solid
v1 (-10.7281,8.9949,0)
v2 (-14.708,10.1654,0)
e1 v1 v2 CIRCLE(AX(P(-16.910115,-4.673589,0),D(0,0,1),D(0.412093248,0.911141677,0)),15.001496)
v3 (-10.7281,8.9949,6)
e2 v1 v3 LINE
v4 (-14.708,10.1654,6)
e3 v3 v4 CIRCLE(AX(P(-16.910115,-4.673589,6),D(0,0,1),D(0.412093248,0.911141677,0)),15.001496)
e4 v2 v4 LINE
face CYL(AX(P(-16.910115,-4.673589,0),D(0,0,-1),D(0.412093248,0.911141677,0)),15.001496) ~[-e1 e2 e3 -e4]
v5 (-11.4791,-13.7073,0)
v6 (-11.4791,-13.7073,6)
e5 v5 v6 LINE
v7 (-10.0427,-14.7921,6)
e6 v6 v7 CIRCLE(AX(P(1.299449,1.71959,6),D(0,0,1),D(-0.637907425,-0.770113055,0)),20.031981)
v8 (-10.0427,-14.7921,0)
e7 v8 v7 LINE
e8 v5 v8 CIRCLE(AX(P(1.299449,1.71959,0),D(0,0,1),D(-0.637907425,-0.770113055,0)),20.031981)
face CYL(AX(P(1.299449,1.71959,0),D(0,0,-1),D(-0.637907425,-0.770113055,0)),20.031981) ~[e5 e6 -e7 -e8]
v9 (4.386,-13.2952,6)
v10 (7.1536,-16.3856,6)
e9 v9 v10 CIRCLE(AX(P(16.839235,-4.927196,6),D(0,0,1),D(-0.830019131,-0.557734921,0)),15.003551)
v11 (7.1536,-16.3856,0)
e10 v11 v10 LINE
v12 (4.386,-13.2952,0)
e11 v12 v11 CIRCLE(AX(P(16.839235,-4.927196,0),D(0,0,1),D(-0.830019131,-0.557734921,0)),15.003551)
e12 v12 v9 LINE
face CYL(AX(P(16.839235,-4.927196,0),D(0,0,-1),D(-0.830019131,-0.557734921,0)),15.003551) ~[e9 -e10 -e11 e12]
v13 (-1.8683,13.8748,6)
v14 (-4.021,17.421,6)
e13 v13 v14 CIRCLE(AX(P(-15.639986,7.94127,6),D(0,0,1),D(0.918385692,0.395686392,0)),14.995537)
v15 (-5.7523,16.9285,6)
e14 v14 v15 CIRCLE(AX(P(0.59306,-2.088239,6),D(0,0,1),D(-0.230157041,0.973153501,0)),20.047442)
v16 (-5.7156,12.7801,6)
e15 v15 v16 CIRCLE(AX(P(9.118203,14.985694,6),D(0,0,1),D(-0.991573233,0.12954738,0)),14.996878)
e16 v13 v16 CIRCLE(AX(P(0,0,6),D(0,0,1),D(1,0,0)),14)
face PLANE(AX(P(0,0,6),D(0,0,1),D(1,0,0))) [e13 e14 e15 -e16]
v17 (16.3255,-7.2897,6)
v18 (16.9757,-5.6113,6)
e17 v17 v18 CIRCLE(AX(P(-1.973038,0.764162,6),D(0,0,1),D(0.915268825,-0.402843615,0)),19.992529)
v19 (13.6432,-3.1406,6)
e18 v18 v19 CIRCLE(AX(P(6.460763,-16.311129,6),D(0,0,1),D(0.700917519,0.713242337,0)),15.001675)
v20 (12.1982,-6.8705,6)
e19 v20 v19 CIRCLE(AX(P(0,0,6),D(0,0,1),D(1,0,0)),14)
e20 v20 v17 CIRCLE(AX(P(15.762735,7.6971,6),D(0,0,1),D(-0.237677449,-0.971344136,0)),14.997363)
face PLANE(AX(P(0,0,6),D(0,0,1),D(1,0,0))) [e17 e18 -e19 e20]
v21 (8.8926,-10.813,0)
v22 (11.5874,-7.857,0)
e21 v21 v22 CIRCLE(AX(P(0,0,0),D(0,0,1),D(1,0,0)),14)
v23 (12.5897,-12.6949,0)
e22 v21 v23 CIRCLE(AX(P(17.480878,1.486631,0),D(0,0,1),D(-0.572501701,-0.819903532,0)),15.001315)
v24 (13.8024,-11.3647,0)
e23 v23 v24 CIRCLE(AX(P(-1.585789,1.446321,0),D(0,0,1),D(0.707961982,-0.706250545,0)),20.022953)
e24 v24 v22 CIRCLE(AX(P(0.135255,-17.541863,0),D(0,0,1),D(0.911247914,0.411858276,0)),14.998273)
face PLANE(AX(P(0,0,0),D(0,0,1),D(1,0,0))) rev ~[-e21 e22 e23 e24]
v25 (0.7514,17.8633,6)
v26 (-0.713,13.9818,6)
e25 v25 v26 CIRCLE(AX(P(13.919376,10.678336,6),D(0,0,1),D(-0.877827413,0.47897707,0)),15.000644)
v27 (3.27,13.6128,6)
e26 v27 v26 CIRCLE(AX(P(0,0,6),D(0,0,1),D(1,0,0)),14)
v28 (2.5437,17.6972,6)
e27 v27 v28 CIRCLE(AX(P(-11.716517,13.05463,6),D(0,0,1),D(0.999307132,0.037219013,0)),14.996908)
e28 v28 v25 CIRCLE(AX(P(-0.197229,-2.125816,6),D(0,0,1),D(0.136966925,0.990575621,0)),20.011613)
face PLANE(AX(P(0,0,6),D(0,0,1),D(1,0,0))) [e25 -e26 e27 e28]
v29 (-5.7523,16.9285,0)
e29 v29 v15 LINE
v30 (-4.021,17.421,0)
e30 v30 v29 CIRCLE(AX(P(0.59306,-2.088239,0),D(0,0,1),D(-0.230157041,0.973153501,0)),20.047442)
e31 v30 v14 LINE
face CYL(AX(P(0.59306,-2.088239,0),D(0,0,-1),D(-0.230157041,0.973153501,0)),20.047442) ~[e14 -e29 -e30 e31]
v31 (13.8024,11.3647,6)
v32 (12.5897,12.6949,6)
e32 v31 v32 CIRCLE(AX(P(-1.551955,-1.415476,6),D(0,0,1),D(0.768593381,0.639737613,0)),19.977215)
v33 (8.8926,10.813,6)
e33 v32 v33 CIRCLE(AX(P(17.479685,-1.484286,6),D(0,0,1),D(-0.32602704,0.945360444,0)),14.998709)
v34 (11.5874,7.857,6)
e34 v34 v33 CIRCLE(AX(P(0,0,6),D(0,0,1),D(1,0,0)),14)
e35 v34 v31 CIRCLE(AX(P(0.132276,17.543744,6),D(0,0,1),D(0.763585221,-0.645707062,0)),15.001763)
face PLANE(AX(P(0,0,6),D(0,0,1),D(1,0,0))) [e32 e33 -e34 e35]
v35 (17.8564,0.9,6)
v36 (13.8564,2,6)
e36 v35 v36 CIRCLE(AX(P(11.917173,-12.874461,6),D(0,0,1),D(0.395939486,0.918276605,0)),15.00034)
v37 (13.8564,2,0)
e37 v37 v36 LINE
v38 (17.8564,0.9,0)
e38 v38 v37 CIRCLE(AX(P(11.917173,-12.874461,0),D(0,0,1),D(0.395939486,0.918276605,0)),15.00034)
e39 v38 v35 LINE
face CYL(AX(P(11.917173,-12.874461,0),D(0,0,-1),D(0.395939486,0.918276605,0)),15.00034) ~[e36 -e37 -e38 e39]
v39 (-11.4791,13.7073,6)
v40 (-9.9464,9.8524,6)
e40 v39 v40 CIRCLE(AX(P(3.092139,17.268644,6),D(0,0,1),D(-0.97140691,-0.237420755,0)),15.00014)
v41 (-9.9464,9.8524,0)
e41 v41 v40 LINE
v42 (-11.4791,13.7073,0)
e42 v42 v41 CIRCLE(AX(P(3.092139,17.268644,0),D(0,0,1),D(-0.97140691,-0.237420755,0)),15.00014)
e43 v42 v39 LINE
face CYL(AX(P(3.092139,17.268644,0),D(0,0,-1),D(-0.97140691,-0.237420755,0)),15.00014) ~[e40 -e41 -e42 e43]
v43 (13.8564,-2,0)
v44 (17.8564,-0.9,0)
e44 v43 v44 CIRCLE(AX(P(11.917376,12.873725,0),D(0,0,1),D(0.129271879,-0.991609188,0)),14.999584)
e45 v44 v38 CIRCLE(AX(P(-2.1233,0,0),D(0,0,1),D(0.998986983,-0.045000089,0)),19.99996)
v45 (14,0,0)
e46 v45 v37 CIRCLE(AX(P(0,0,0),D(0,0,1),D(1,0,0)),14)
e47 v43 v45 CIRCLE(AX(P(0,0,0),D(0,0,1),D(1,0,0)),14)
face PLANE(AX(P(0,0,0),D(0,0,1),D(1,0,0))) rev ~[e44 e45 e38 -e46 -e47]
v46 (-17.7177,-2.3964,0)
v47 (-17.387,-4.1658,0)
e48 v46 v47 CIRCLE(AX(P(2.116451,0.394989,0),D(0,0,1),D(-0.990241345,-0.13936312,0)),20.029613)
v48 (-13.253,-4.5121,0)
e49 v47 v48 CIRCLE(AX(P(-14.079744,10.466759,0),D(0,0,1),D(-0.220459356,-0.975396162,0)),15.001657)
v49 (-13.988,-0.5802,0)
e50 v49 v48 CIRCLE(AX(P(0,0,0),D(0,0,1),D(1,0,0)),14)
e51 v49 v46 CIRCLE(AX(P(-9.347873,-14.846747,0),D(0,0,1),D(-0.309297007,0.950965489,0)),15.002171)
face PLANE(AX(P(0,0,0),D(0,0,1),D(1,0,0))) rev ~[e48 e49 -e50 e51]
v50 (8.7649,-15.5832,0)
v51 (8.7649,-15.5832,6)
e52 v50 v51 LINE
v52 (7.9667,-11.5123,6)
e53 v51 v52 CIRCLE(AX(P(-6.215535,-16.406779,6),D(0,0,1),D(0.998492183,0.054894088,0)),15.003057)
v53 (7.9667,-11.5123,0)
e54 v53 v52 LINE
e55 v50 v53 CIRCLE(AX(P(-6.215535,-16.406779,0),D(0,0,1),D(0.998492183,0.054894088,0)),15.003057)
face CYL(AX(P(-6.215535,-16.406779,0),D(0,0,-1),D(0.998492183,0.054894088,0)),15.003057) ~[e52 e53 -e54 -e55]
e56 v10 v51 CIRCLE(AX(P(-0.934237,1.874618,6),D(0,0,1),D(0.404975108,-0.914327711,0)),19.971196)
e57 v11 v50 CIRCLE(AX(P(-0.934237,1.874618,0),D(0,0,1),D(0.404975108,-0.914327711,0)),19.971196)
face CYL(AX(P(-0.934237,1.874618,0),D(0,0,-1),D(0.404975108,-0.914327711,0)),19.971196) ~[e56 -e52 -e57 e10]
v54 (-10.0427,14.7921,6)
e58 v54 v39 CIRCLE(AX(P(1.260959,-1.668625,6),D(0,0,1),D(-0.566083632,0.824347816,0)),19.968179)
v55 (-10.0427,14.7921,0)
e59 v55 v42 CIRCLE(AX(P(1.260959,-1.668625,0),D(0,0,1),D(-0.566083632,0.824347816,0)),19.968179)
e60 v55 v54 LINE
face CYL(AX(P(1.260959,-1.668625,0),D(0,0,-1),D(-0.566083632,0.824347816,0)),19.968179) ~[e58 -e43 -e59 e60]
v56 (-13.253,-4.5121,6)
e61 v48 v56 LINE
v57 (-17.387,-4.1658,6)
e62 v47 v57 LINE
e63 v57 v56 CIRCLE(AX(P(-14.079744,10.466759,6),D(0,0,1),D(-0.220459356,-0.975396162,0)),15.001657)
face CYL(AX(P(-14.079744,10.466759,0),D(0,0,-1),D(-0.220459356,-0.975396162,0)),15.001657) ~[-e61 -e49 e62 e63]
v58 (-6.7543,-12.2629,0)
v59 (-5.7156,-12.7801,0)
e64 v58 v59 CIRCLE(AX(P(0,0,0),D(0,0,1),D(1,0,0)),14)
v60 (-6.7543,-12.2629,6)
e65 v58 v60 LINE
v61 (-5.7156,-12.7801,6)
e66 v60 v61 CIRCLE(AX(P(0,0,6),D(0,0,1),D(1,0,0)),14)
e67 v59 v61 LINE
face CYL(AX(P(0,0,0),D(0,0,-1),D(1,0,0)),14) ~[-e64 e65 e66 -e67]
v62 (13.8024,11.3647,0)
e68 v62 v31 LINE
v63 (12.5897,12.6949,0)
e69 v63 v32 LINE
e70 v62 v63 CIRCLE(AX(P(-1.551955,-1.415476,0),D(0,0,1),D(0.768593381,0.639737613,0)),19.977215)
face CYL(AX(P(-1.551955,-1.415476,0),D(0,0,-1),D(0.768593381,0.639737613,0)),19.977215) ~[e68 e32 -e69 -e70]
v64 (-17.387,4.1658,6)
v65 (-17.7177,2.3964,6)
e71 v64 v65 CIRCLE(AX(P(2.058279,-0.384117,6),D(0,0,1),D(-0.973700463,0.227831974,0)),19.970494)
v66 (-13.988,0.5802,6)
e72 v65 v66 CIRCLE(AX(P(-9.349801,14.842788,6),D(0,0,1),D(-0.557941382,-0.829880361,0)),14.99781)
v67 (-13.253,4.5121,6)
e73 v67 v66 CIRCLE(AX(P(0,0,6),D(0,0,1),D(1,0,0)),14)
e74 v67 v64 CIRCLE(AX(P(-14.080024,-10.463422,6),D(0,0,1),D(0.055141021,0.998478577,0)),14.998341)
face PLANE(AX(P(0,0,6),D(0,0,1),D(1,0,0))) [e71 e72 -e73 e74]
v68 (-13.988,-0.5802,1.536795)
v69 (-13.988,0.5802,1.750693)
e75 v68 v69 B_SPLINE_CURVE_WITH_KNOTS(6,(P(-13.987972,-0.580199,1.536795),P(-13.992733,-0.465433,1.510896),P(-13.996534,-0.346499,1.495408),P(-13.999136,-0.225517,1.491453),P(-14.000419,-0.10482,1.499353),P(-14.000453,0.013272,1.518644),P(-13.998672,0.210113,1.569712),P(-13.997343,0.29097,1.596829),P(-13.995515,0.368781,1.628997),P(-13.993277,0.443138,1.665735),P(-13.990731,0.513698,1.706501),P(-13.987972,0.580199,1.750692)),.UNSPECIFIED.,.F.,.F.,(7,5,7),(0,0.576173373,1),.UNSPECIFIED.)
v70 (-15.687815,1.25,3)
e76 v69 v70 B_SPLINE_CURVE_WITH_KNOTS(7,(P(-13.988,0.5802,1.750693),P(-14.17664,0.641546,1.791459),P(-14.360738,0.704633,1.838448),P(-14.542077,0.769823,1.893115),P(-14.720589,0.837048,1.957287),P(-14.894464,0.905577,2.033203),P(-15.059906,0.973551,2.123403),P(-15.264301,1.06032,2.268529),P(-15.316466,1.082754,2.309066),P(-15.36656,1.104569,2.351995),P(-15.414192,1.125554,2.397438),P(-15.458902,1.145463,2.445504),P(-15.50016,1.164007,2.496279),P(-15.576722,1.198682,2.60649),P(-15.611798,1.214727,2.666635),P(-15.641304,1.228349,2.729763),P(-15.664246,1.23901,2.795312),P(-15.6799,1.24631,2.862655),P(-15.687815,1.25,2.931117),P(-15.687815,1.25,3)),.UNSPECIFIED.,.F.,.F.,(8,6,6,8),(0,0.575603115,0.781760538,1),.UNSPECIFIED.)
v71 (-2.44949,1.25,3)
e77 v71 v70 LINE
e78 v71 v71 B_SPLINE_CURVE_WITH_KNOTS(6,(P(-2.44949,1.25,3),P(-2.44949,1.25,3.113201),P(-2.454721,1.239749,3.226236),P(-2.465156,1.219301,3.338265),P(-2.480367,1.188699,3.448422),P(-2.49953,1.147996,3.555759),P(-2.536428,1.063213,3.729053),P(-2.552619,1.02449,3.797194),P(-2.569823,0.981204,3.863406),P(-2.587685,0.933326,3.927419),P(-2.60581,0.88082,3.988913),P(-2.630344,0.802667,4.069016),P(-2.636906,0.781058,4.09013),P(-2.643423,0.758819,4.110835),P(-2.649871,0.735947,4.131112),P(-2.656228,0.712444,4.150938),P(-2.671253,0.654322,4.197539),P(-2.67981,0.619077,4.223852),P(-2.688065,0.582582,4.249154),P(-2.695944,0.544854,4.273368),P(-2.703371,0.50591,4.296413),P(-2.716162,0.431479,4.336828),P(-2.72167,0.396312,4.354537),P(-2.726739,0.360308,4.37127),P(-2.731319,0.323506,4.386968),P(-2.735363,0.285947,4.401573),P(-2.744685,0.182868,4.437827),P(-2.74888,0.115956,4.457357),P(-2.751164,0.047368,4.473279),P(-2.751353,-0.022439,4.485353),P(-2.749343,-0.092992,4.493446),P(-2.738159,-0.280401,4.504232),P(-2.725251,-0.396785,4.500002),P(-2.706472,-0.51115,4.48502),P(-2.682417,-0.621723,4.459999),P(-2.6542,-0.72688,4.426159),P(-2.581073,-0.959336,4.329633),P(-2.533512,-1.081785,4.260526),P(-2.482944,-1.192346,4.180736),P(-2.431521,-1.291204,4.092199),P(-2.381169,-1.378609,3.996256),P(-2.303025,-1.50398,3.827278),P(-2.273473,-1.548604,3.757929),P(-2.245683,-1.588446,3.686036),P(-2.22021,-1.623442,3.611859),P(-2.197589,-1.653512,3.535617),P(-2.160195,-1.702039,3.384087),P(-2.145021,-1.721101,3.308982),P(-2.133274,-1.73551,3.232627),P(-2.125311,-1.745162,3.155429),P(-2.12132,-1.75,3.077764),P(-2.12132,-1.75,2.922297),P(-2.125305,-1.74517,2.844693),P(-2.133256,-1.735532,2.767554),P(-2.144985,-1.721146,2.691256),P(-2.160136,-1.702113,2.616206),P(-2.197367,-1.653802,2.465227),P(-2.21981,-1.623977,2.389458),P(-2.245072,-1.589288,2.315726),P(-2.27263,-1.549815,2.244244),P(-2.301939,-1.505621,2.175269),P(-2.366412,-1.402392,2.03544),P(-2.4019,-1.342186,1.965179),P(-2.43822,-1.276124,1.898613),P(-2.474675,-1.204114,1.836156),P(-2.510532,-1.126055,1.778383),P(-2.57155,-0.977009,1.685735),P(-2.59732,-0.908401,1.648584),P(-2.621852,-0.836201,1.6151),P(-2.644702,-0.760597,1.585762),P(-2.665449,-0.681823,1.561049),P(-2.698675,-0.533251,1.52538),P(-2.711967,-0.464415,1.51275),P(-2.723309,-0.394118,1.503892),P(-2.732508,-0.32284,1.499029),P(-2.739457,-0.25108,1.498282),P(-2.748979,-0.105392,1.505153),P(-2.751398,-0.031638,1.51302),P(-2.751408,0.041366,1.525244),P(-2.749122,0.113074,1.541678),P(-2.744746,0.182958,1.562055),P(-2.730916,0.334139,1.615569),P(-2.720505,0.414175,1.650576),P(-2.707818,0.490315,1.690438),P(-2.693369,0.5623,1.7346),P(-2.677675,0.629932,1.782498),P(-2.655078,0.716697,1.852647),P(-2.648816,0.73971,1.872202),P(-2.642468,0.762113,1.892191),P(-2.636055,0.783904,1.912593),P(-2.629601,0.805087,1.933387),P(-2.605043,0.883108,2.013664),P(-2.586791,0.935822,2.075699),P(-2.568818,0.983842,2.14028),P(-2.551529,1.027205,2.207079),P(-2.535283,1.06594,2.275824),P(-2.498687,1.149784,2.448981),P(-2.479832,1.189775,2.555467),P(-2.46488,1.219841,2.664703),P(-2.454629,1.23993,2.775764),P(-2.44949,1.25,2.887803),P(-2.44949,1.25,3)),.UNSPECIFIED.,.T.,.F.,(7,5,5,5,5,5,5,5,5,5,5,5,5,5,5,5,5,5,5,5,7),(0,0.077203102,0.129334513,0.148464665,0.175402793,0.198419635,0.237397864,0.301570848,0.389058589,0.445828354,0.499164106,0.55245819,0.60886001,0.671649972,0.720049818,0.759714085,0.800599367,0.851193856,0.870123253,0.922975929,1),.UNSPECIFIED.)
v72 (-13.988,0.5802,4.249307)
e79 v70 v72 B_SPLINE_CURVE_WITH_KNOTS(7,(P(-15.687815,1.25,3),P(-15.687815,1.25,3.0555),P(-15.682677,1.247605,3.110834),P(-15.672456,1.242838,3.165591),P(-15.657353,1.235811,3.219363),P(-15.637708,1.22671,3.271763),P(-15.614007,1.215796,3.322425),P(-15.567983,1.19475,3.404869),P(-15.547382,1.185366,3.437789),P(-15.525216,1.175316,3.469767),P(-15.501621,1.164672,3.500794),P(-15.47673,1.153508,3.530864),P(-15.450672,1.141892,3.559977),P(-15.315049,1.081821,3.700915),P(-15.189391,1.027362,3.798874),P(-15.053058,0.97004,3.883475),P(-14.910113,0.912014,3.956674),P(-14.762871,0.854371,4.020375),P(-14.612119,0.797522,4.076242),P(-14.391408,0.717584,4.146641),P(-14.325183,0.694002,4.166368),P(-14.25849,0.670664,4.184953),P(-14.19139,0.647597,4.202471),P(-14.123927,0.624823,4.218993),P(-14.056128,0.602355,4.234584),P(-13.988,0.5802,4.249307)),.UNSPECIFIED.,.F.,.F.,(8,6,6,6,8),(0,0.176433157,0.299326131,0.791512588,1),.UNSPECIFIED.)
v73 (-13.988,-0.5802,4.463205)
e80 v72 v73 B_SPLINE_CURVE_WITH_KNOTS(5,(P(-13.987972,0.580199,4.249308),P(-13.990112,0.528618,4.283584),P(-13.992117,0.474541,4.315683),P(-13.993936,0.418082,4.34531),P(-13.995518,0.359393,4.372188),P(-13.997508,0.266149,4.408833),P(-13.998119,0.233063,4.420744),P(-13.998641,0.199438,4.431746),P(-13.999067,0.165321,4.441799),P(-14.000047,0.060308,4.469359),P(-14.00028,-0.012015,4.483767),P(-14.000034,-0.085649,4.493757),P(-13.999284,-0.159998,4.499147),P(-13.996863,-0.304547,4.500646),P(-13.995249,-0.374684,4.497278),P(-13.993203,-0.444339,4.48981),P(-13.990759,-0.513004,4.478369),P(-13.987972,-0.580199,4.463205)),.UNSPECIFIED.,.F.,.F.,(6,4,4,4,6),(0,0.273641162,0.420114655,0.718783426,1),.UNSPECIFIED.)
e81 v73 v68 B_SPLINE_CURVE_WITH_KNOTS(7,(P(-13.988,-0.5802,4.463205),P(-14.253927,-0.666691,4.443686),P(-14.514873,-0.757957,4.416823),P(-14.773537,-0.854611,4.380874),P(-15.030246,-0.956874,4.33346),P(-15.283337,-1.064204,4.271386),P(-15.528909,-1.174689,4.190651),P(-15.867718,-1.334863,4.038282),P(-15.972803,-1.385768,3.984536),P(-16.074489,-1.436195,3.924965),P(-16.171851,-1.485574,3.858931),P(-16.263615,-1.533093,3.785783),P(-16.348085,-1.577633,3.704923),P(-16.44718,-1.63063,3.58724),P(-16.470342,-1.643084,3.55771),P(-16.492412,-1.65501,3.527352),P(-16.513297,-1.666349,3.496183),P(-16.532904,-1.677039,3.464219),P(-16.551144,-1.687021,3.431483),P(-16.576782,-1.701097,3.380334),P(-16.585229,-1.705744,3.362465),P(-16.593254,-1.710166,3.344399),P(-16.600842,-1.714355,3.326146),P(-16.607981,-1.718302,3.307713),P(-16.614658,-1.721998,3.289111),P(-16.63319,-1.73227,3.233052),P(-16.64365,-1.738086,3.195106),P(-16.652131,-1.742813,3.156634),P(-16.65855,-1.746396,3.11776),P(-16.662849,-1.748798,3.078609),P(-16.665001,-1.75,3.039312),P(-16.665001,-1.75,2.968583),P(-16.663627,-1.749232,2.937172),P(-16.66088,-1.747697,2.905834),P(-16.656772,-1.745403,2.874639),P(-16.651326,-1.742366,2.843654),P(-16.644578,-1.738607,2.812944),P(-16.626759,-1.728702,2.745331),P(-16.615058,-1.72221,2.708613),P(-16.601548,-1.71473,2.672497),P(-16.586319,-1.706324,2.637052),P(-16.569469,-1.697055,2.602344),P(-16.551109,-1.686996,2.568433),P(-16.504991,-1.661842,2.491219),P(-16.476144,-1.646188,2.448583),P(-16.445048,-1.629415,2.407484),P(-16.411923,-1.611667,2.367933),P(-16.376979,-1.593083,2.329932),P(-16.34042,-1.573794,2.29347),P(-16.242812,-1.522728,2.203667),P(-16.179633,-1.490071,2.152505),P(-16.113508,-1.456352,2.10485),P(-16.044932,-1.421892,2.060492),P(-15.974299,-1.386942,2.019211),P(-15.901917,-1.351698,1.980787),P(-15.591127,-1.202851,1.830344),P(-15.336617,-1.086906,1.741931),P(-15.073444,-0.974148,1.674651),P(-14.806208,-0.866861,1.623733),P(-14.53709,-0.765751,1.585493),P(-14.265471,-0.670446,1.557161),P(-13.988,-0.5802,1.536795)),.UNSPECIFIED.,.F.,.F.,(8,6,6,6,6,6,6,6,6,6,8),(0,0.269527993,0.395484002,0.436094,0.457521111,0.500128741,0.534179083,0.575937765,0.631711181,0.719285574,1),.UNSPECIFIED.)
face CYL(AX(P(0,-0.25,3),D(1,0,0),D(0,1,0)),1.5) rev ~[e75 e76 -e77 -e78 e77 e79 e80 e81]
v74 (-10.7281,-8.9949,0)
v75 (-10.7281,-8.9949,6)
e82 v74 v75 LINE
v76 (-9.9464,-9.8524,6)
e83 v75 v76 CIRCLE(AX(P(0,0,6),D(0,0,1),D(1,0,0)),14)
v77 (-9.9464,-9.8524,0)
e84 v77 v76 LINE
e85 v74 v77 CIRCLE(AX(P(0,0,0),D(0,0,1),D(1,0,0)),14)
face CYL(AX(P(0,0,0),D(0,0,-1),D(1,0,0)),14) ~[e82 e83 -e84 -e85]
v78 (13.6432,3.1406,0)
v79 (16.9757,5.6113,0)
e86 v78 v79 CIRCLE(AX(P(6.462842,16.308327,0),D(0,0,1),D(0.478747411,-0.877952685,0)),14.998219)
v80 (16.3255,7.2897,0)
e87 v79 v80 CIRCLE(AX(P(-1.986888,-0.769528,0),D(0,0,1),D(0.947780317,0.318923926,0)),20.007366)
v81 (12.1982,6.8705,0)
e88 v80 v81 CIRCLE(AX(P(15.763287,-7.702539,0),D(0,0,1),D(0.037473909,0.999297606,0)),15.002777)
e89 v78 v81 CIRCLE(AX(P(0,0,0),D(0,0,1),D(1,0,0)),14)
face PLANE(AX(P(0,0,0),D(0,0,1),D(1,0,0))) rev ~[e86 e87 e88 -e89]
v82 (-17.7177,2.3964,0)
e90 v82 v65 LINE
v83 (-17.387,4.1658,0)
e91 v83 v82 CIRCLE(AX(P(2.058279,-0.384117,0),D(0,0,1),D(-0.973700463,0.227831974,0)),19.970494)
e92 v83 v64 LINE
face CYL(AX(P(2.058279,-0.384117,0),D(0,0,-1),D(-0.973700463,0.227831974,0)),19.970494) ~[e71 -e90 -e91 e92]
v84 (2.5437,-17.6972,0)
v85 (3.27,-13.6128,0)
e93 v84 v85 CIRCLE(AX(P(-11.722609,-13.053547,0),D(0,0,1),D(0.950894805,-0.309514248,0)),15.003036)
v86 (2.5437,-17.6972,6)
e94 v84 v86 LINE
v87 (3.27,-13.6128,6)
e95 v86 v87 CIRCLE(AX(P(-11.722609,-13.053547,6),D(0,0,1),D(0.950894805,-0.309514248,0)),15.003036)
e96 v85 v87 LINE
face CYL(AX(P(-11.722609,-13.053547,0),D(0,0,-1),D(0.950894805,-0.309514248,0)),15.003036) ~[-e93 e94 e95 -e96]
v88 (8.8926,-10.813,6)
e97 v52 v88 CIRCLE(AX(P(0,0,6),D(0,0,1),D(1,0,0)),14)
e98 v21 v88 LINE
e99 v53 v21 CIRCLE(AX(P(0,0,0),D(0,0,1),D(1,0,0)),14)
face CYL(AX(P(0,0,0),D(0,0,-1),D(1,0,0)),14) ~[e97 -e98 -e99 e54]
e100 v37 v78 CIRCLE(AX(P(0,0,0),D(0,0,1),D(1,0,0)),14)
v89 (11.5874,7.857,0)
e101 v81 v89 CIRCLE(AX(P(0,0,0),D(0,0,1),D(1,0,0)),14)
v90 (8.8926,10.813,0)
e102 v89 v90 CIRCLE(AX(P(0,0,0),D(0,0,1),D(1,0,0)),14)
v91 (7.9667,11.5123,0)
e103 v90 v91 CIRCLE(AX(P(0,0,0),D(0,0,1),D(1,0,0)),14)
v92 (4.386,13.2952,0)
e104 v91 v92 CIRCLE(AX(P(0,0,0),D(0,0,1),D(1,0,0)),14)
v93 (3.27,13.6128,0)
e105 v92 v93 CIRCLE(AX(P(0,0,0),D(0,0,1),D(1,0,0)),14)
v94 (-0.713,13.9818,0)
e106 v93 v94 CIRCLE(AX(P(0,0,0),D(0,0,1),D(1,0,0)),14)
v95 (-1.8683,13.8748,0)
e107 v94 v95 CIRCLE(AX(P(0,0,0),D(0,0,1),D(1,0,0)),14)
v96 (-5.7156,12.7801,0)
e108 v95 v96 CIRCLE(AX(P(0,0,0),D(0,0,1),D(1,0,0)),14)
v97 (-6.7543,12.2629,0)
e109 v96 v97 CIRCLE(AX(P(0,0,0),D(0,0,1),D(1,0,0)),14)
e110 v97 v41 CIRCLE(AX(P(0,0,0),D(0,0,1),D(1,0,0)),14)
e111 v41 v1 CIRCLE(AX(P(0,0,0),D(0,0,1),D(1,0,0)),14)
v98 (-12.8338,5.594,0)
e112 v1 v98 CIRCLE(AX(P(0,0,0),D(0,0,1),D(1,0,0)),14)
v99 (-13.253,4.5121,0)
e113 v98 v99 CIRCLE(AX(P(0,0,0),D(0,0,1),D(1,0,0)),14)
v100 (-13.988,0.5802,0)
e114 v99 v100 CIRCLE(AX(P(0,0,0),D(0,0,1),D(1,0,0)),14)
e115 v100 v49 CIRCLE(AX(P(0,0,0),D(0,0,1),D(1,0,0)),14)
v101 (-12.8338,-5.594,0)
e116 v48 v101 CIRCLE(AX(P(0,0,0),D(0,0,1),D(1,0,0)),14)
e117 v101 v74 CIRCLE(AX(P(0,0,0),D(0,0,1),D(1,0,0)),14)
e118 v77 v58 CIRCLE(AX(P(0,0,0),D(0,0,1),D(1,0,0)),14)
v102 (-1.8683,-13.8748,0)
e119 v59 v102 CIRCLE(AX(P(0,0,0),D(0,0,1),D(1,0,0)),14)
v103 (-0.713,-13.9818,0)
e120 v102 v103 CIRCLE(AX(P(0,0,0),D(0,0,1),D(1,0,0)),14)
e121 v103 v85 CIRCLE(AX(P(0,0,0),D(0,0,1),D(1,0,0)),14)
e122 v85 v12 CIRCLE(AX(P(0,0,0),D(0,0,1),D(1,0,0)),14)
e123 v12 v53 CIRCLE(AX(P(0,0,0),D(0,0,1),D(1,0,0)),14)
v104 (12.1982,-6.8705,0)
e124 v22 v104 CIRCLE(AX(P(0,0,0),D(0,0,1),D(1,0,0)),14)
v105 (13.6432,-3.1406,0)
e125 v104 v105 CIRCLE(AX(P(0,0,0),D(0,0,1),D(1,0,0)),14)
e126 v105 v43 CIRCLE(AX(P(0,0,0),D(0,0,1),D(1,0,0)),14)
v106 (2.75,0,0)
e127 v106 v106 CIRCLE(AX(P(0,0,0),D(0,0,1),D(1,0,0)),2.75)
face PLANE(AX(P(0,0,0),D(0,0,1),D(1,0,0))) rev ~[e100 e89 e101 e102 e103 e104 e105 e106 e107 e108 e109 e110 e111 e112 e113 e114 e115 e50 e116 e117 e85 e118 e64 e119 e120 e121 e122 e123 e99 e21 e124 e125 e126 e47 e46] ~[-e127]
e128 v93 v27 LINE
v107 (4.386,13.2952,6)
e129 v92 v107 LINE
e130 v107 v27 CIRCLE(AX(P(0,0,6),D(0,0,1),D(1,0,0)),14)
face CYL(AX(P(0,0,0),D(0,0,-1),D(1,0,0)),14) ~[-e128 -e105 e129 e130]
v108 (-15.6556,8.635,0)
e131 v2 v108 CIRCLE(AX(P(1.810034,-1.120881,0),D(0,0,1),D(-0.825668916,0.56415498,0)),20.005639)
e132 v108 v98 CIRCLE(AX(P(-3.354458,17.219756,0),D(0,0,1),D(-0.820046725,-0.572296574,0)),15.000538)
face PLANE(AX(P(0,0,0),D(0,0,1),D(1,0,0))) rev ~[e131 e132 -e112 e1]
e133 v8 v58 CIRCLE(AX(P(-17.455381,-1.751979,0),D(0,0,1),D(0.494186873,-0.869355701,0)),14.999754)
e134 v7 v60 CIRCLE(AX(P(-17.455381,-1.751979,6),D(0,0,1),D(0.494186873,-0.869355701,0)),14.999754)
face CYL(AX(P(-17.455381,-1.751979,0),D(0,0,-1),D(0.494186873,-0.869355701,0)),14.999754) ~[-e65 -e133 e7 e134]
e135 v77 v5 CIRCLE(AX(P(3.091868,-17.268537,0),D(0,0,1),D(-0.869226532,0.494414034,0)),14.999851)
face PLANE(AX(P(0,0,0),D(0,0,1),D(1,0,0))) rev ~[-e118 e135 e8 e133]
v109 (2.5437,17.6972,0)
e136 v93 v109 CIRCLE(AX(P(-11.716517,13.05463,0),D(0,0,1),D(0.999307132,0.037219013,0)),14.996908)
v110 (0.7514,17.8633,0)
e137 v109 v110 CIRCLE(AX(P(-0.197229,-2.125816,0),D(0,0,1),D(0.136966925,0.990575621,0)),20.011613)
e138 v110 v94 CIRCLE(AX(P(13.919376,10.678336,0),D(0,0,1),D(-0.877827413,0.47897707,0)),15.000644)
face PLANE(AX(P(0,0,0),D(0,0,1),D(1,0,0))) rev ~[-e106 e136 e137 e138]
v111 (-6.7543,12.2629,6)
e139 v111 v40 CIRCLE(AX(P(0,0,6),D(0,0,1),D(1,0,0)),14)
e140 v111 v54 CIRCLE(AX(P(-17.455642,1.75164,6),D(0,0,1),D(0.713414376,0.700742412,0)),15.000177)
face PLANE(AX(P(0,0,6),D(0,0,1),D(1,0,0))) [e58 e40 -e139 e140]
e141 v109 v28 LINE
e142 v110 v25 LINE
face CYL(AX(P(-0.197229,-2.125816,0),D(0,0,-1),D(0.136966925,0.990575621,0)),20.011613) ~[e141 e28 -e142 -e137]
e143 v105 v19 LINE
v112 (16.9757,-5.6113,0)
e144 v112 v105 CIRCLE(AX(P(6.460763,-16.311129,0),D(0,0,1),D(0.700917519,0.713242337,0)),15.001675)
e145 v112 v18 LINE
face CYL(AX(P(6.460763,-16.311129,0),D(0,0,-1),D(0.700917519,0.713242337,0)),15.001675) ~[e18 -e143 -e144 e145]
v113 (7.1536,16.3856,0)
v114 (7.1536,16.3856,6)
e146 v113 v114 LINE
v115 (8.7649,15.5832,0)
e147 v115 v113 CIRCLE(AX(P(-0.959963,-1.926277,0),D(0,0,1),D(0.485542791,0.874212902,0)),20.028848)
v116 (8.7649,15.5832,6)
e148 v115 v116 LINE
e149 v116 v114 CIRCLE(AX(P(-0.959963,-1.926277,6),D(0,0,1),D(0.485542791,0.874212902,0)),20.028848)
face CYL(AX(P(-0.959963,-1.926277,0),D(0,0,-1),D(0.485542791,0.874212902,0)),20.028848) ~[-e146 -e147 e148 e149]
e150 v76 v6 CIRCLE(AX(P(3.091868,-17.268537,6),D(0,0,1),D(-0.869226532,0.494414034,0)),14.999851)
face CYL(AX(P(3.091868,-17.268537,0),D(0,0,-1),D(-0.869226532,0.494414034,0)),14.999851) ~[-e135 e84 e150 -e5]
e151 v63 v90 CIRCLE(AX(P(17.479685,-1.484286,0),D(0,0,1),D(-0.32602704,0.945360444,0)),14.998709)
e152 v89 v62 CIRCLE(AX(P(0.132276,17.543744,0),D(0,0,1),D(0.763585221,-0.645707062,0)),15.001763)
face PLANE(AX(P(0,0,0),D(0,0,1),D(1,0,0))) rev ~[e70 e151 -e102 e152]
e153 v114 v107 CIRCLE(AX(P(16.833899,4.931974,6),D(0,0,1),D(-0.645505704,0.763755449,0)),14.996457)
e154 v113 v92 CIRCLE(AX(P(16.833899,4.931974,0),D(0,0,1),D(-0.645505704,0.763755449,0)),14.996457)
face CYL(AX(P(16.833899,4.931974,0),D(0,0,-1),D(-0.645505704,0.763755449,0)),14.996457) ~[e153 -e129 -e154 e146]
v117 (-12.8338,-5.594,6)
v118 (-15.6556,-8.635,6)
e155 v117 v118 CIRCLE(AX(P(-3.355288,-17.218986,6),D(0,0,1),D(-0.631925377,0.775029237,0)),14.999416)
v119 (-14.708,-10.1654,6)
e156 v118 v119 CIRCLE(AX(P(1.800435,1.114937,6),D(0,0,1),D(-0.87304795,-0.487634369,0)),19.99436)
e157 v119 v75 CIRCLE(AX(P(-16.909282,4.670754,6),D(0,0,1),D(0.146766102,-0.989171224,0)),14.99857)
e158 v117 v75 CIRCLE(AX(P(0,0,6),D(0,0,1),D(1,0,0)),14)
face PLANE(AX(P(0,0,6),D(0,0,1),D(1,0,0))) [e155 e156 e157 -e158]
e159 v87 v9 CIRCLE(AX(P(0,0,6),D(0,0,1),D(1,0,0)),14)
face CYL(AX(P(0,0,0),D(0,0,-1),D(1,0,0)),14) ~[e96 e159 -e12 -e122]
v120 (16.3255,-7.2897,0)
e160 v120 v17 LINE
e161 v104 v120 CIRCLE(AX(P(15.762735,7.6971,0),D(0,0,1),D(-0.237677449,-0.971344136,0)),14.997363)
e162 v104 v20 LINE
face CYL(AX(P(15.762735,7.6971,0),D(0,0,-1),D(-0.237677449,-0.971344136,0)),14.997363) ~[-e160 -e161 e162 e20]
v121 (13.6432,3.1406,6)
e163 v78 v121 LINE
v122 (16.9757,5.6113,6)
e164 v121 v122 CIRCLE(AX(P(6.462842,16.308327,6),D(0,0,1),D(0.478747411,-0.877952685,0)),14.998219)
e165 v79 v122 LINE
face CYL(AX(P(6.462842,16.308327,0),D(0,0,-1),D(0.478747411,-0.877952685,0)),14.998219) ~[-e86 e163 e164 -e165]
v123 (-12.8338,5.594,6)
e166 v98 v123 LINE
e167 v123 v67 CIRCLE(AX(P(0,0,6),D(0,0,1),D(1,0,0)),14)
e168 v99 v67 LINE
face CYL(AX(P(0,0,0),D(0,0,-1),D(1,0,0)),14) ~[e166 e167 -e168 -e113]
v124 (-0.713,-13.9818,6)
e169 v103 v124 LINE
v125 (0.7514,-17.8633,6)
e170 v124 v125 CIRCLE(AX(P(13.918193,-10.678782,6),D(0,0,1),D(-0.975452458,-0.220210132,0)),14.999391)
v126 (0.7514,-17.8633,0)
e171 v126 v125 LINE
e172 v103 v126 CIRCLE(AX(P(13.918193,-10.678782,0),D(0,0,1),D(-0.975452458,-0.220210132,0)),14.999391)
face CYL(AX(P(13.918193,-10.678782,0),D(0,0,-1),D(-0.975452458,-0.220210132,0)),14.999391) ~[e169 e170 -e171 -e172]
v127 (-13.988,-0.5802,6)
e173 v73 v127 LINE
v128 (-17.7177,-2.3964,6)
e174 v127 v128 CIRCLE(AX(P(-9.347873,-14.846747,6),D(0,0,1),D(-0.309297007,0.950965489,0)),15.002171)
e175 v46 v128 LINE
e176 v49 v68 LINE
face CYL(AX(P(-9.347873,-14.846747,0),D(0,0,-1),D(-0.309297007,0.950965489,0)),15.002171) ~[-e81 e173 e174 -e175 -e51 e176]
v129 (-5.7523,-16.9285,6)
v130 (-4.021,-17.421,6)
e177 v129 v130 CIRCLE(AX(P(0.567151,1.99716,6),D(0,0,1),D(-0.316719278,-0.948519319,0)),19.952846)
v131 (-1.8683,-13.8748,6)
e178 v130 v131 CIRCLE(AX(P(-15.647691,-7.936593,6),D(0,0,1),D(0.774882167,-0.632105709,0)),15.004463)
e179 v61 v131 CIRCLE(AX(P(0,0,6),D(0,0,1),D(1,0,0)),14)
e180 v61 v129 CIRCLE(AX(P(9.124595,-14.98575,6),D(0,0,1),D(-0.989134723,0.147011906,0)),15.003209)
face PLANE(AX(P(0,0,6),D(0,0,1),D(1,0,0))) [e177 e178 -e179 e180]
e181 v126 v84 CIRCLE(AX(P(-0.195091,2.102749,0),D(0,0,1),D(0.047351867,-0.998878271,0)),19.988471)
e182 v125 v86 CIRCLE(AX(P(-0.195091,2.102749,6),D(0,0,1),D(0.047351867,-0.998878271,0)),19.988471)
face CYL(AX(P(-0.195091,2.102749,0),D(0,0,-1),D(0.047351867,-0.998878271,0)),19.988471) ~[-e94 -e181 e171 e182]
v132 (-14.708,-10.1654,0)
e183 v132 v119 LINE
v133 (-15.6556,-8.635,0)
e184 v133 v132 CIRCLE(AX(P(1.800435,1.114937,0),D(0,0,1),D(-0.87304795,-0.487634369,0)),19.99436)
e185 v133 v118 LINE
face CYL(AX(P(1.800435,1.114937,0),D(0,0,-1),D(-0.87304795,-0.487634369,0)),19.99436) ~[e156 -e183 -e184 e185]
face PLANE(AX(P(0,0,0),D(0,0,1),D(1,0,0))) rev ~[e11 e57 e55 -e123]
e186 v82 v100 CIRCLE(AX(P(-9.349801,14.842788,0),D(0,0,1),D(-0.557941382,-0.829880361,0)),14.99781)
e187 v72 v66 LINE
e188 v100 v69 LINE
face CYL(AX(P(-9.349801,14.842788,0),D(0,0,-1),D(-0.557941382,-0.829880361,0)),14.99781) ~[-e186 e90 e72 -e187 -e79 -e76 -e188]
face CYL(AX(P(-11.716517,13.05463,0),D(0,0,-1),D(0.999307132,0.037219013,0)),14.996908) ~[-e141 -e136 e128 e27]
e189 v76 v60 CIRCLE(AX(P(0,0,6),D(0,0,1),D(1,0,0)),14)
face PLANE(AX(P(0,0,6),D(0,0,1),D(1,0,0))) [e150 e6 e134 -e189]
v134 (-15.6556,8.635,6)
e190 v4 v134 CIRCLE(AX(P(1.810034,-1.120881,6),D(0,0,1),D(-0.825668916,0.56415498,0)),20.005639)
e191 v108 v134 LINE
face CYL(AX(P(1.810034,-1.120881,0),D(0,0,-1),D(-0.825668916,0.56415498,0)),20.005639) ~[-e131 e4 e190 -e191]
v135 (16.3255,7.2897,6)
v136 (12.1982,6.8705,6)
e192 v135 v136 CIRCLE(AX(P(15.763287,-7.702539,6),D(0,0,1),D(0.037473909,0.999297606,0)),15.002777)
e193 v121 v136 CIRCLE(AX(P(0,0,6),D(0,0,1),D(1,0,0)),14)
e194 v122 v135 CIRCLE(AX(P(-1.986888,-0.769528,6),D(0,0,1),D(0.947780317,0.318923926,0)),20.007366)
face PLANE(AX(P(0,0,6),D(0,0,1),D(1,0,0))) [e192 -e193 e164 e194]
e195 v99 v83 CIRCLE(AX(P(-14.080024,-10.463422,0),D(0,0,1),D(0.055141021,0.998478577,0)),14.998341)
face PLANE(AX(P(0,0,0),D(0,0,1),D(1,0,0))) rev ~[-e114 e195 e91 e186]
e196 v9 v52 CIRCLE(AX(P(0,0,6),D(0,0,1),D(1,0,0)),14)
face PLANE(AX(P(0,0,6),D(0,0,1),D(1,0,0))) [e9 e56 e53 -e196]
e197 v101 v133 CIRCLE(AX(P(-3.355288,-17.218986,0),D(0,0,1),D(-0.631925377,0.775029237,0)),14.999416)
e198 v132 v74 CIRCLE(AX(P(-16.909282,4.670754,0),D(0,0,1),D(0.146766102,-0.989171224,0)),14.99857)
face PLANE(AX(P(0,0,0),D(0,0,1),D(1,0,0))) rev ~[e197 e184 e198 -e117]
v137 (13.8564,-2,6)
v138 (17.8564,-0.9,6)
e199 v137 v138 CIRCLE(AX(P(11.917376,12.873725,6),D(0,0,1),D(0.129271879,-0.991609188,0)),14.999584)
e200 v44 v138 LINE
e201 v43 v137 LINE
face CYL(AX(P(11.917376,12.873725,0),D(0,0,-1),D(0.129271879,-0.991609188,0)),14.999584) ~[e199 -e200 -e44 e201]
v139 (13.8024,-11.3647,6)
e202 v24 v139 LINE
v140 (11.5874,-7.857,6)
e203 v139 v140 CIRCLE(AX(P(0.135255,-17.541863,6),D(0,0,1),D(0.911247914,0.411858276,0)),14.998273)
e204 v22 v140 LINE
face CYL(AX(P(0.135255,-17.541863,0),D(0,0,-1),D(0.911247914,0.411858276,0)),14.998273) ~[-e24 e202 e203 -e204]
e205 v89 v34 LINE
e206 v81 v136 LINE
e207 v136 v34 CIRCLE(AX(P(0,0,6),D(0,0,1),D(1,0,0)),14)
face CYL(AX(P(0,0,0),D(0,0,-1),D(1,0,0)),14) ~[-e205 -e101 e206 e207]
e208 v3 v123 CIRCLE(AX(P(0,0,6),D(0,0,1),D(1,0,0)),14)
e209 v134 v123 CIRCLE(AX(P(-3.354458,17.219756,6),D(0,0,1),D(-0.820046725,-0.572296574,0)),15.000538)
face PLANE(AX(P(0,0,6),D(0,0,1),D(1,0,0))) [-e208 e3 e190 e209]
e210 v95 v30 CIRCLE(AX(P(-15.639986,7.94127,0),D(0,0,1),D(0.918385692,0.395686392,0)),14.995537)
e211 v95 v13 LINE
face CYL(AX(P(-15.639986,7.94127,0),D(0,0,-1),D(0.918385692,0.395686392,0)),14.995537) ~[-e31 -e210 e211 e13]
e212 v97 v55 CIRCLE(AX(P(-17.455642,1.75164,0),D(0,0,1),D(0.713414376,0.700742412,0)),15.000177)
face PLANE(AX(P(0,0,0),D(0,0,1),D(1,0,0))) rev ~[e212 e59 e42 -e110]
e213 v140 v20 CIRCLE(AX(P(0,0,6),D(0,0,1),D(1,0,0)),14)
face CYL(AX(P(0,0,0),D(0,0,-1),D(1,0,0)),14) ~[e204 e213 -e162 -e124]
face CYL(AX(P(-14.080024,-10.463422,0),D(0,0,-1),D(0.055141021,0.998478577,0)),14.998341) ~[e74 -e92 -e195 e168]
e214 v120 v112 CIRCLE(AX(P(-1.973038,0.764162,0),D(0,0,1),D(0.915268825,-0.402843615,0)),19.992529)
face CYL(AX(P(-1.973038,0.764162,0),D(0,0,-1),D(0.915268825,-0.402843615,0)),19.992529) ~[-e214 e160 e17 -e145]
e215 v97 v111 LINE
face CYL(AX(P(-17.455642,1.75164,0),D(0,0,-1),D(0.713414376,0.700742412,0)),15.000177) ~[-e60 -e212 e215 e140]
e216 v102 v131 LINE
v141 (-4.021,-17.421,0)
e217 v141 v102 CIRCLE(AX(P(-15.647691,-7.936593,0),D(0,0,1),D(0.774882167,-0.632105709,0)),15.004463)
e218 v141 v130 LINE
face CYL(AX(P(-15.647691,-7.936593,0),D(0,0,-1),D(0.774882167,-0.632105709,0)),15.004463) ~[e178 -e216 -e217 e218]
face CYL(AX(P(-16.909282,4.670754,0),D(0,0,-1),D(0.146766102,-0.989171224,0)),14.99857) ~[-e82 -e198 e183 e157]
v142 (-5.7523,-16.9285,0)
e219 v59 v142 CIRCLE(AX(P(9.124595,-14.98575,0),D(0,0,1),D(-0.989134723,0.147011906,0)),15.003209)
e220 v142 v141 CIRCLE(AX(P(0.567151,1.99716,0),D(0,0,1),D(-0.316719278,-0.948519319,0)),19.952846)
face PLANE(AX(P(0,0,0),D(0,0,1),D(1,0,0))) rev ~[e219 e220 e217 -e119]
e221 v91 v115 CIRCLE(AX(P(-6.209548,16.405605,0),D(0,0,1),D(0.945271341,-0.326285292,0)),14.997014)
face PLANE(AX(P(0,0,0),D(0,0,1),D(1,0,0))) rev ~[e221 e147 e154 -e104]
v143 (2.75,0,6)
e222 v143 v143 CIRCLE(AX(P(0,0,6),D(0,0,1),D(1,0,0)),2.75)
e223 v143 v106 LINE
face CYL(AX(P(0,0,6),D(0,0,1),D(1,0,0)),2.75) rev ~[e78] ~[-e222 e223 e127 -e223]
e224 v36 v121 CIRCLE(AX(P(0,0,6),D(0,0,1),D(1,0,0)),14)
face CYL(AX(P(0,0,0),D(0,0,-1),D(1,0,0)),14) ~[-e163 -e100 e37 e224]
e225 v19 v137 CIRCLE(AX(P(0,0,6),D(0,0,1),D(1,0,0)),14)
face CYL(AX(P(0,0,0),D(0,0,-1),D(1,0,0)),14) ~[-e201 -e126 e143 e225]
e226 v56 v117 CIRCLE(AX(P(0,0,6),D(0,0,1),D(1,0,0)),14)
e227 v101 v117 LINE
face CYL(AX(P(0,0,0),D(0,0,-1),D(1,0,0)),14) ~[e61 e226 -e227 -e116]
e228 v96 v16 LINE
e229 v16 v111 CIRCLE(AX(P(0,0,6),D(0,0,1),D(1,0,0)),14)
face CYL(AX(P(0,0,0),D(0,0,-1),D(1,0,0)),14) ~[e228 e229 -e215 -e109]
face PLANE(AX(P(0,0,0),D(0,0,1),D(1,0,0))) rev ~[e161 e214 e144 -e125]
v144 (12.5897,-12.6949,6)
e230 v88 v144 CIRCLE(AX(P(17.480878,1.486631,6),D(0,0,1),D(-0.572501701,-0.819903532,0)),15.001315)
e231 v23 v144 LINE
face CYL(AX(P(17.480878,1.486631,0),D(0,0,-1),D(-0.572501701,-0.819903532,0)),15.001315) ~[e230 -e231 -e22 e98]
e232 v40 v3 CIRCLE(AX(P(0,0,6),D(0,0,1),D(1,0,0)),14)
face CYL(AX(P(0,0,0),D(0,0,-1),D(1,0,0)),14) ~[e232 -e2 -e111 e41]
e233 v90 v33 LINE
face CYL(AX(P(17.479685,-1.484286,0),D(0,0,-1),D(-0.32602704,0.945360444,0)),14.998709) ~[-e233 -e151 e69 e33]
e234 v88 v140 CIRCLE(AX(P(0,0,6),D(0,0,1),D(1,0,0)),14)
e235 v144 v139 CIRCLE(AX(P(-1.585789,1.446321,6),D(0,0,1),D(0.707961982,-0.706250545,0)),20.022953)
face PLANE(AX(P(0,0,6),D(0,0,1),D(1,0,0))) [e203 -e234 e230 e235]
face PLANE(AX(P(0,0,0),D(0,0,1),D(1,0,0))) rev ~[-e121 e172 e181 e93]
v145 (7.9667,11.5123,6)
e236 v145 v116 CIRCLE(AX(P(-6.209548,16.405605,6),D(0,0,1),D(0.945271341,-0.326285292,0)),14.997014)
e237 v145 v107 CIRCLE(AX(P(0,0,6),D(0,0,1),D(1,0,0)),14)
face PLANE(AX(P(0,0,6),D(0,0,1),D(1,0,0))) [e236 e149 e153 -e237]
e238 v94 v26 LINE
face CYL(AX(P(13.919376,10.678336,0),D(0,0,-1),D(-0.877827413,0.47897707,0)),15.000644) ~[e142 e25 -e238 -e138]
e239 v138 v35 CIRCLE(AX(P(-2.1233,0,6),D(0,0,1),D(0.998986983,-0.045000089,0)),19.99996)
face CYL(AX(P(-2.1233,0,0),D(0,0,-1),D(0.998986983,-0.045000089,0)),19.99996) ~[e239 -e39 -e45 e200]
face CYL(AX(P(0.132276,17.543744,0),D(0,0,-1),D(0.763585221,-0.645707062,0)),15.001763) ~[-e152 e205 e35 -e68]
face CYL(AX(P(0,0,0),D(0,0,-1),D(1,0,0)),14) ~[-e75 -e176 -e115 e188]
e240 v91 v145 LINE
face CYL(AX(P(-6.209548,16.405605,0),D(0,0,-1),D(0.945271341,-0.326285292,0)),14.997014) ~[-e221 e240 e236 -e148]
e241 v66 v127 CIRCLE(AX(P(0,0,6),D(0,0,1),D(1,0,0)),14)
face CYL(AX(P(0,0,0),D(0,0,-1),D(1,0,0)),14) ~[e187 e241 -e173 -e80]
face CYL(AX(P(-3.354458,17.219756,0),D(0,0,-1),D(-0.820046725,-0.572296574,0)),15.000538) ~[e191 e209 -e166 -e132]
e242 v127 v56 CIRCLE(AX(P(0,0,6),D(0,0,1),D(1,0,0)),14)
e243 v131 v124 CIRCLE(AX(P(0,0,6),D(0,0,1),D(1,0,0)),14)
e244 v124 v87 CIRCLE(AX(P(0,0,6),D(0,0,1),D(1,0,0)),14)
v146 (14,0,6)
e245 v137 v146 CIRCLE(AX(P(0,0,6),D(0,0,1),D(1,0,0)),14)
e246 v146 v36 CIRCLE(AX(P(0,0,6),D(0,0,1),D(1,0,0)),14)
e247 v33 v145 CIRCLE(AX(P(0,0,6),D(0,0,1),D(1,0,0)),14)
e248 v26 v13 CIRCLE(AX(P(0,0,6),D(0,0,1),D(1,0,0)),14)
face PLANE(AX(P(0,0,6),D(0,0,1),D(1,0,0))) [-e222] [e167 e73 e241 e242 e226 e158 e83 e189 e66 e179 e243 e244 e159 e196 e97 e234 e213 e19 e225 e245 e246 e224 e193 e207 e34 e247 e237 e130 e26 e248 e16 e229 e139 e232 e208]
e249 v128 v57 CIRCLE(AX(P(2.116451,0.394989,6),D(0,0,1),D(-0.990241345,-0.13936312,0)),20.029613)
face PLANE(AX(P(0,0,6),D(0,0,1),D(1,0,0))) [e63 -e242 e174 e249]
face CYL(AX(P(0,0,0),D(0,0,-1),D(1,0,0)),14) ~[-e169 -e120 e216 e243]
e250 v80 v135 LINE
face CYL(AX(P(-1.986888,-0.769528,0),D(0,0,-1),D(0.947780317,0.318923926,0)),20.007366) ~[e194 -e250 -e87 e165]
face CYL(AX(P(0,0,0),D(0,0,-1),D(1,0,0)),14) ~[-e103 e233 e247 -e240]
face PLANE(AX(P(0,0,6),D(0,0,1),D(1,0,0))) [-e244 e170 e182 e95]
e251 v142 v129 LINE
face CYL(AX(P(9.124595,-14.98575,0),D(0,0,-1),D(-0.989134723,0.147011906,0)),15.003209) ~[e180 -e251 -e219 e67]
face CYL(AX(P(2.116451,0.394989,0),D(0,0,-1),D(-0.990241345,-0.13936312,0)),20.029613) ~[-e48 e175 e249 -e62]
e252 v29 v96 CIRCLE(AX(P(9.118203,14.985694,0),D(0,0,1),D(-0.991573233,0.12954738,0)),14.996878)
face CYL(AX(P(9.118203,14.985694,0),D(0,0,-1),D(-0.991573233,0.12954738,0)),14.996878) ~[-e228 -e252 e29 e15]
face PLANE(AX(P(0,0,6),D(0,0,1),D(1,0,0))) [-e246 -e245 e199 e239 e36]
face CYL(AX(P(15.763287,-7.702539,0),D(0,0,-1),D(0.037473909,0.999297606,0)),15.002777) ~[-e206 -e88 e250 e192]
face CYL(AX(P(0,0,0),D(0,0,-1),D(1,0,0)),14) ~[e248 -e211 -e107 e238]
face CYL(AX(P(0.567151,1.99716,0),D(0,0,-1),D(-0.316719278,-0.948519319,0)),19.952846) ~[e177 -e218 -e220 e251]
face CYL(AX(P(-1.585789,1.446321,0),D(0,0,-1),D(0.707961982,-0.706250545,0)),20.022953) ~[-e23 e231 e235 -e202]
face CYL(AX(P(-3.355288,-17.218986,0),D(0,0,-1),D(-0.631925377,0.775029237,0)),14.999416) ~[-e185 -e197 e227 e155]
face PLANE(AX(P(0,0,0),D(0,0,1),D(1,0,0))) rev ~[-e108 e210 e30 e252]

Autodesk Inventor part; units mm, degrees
ref_plane "YZ Plane" through (0, 0, 0) normal (1, 0, 0) x (0, 1, 0)
ref_plane "XZ Plane" through (0, 0, 0) normal (0, 1, 0) x (-1, 0, 0)
ref_plane "XY Plane" through (0, 0, 0) normal (0, 0, 1) x (1, 0, 0)
sketch "Sketch1" plane through (0, 0, 0) normal (0, 0, 1) x (1, 0, 0)
  circle A0 centre (0, 0) radius 14
  line L0 (0, 0) -> (16, 0) construction
  arc A1 (17.8564, 0.9) -> (13.8564, 2) centre (11.9173, -12.8741) ccw
  arc A2 (13.8564, -2) -> (17.8564, -0.9) centre (11.9173, 12.8741) ccw
  arc A3 (13.8564, -2) -> (13.8564, 2) centre (0, 0) ccw
  arc A4 (17.8564, -0.9) -> (17.8564, 0.9) centre (-2.1233, 0) ccw
  arc A5 (16.3255, 7.2897) -> (12.1982, 6.8705) centre (15.7632, -7.6998) ccw
  arc A6 (16.9757, 5.6113) -> (16.3255, 7.2897) centre (-1.9799, -0.767) ccw
  arc A7 (13.6432, 3.1406) -> (16.9757, 5.6113) centre (6.4619, 16.3098) ccw
  arc A8 (13.6432, 3.1406) -> (12.1982, 6.8705) centre (0, 0) ccw
  arc A9 (12.5897, 12.6949) -> (8.8926, 10.813) centre (17.4802, -1.4855) ccw
  arc A10 (13.8024, 11.3647) -> (12.5897, 12.6949) centre (-1.5692, -1.4305) ccw
  arc A11 (11.5874, 7.857) -> (13.8024, 11.3647) centre (0.1337, 17.5427) ccw
  arc A12 (11.5874, 7.857) -> (8.8926, 10.813) centre (0, 0) ccw
  arc A13 (7.1536, 16.3856) -> (4.386, 13.2952) centre (16.8364, 4.9294) ccw
  arc A14 (8.7649, 15.5832) -> (7.1536, 16.3856) centre (-0.9465, -1.9007) ccw
  arc A15 (7.9667, 11.5123) -> (8.7649, 15.5832) centre (-6.2125, 16.4064) ccw
  arc A16 (7.9667, 11.5123) -> (4.386, 13.2952) centre (0, 0) ccw
  arc A17 (0.7514, 17.8633) -> (-0.713, 13.9818) centre (13.9188, 10.6786) ccw
  arc A18 (2.5437, 17.6972) -> (0.7514, 17.8633) centre (-0.1959, -2.1143) ccw
  arc A19 (3.27, 13.6128) -> (2.5437, 17.6972) centre (-11.7196, 13.0543) ccw
  arc A20 (3.27, 13.6128) -> (-0.713, 13.9818) centre (0, 0) ccw
  arc A21 (-5.7523, 16.9285) -> (-5.7156, 12.7801) centre (9.1214, 14.9855) ccw
  arc A22 (-4.021, 17.421) -> (-5.7523, 16.9285) centre (0.5811, -2.0423) ccw
  arc A23 (-1.8683, 13.8748) -> (-4.021, 17.421) centre (-15.644, 7.9392) ccw
  arc A24 (-1.8683, 13.8748) -> (-5.7156, 12.7801) centre (0, 0) ccw
  arc A25 (-11.4791, 13.7073) -> (-9.9464, 9.8524) centre (3.092, 17.2686) ccw
  arc A26 (-10.0427, 14.7921) -> (-11.4791, 13.7073) centre (1.2796, -1.6945) ccw
  arc A27 (-6.7543, 12.2629) -> (-10.0427, 14.7921) centre (-17.4555, 1.7518) ccw
  arc A28 (-6.7543, 12.2629) -> (-9.9464, 9.8524) centre (0, 0) ccw
  arc A29 (-15.6556, 8.635) -> (-12.8338, 5.594) centre (-3.3549, 17.2194) ccw
  arc A30 (-14.708, 10.1654) -> (-15.6556, 8.635) centre (1.8053, -1.1178) ccw
  arc A31 (-10.7281, 8.9949) -> (-14.708, 10.1654) centre (-16.9096, -4.6722) ccw
  arc A32 (-10.7281, 8.9949) -> (-12.8338, 5.594) centre (0, 0) ccw
  arc A33 (-17.7177, 2.3964) -> (-13.988, 0.5802) centre (-9.3487, 14.8447) ccw
  arc A34 (-17.387, 4.1658) -> (-17.7177, 2.3964) centre (2.0872, -0.3902) ccw
  arc A35 (-13.253, 4.5121) -> (-17.387, 4.1658) centre (-14.08, -10.4651) ccw
  arc A36 (-13.253, 4.5121) -> (-13.988, 0.5802) centre (0, 0) ccw
  arc A37 (-17.387, -4.1658) -> (-13.253, -4.5121) centre (-14.08, 10.4651) ccw
  arc A38 (-17.7177, -2.3964) -> (-17.387, -4.1658) centre (2.0872, 0.3902) ccw
  arc A39 (-13.988, -0.5802) -> (-17.7177, -2.3964) centre (-9.3487, -14.8447) ccw
  arc A40 (-13.988, -0.5802) -> (-13.253, -4.5121) centre (0, 0) ccw
  arc A41 (-14.708, -10.1654) -> (-10.7281, -8.9949) centre (-16.9096, 4.6722) ccw
  arc A42 (-15.6556, -8.635) -> (-14.708, -10.1654) centre (1.8053, 1.1178) ccw
  arc A43 (-12.8338, -5.594) -> (-15.6556, -8.635) centre (-3.3549, -17.2194) ccw
  arc A44 (-12.8338, -5.594) -> (-10.7281, -8.9949) centre (0, 0) ccw
  arc A45 (-10.0427, -14.7921) -> (-6.7543, -12.2629) centre (-17.4555, -1.7518) ccw
  arc A46 (-11.4791, -13.7073) -> (-10.0427, -14.7921) centre (1.2796, 1.6945) ccw
  arc A47 (-9.9464, -9.8524) -> (-11.4791, -13.7073) centre (3.092, -17.2686) ccw
  arc A48 (-9.9464, -9.8524) -> (-6.7543, -12.2629) centre (0, 0) ccw
  arc A49 (-4.021, -17.421) -> (-1.8683, -13.8748) centre (-15.644, -7.9392) ccw
  arc A50 (-5.7523, -16.9285) -> (-4.021, -17.421) centre (0.5811, 2.0423) ccw
  arc A51 (-5.7156, -12.7801) -> (-5.7523, -16.9285) centre (9.1214, -14.9855) ccw
  arc A52 (-5.7156, -12.7801) -> (-1.8683, -13.8748) centre (0, 0) ccw
  arc A53 (2.5437, -17.6972) -> (3.27, -13.6128) centre (-11.7196, -13.0543) ccw
  arc A54 (0.7514, -17.8633) -> (2.5437, -17.6972) centre (-0.1959, 2.1143) ccw
  arc A55 (-0.713, -13.9818) -> (0.7514, -17.8633) centre (13.9188, -10.6786) ccw
  arc A56 (-0.713, -13.9818) -> (3.27, -13.6128) centre (0, 0) ccw
  arc A57 (8.7649, -15.5832) -> (7.9667, -11.5123) centre (-6.2125, -16.4064) ccw
  arc A58 (7.1536, -16.3856) -> (8.7649, -15.5832) centre (-0.9465, 1.9007) ccw
  arc A59 (4.386, -13.2952) -> (7.1536, -16.3856) centre (16.8364, -4.9294) ccw
  arc A60 (4.386, -13.2952) -> (7.9667, -11.5123) centre (0, 0) ccw
  arc A61 (13.8024, -11.3647) -> (11.5874, -7.857) centre (0.1337, -17.5427) ccw
  arc A62 (12.5897, -12.6949) -> (13.8024, -11.3647) centre (-1.5692, 1.4305) ccw
  arc A63 (8.8926, -10.813) -> (12.5897, -12.6949) centre (17.4802, 1.4855) ccw
  arc A64 (8.8926, -10.813) -> (11.5874, -7.857) centre (0, 0) ccw
  arc A65 (16.9757, -5.6113) -> (13.6432, -3.1406) centre (6.4619, -16.3098) ccw
  arc A66 (16.3255, -7.2897) -> (16.9757, -5.6113) centre (-1.9799, 0.767) ccw
  arc A67 (12.1982, -6.8705) -> (16.3255, -7.2897) centre (15.7632, 7.6998) ccw
  arc A68 (12.1982, -6.8705) -> (13.6432, -3.1406) centre (0, 0) ccw
  point P0 (17.8767, 0)
  point P1 (16.6695, 6.4578)
  point P2 (13.211, 12.0434)
  point P3 (7.9683, 16.0025)
  point P4 (1.6495, 17.8004)
  point P5 (-4.8922, 17.1942)
  point P6 (-10.7731, 14.2659)
  point P7 (-15.199, 9.4109)
  point P8 (-17.5723, 3.2848)
  point P9 (-17.5723, -3.2848)
  point P10 (-15.199, -9.4109)
  point P11 (-10.7731, -14.2659)
  point P12 (-4.8922, -17.1942)
  point P13 (1.6495, -17.8004)
  point P14 (7.9683, -16.0025)
  point P15 (13.211, -12.0434)
  point P16 (16.6695, -6.4578)
  dimension "d0" = 28
  dimension "d1" = 16
  dimension "d2" = 15
  dimension "d3" = 4
  dimension "d4" = 2
  dimension "d6" = 1.8
  dimension "d15" = 20
  dimension "d18" = 360
extrude "Extrusion1" add sketch "Sketch1" along normal blind 6
sketch "Sketch5" plane through (0, 0, 6) normal (0, 0, 1) x (1, 0, 0)
  circle A0 centre (0, 0) radius 2.75
  dimension "d32" = 5.5
extrude "Extrusion5" cut sketch "Sketch5" against normal through all
sketch "Sketch8" plane through (0, 0, 0) normal (1, 0, 0) x (0, 1, 0)
  circle A0 centre (-0.25, 3) radius 1.5
  line L0 (-2.75, 6) -> (-2.75, 0) projected
  point P0 (0, 0)
  point P1 (-2.75, 3)
  dimension "d38" = 3
  dimension "d39" = 0.25
extrude "Extrusion7" cut sketch "Sketch8" against normal through all
properties part number "Motor Gear" material "ABS Plastic"
